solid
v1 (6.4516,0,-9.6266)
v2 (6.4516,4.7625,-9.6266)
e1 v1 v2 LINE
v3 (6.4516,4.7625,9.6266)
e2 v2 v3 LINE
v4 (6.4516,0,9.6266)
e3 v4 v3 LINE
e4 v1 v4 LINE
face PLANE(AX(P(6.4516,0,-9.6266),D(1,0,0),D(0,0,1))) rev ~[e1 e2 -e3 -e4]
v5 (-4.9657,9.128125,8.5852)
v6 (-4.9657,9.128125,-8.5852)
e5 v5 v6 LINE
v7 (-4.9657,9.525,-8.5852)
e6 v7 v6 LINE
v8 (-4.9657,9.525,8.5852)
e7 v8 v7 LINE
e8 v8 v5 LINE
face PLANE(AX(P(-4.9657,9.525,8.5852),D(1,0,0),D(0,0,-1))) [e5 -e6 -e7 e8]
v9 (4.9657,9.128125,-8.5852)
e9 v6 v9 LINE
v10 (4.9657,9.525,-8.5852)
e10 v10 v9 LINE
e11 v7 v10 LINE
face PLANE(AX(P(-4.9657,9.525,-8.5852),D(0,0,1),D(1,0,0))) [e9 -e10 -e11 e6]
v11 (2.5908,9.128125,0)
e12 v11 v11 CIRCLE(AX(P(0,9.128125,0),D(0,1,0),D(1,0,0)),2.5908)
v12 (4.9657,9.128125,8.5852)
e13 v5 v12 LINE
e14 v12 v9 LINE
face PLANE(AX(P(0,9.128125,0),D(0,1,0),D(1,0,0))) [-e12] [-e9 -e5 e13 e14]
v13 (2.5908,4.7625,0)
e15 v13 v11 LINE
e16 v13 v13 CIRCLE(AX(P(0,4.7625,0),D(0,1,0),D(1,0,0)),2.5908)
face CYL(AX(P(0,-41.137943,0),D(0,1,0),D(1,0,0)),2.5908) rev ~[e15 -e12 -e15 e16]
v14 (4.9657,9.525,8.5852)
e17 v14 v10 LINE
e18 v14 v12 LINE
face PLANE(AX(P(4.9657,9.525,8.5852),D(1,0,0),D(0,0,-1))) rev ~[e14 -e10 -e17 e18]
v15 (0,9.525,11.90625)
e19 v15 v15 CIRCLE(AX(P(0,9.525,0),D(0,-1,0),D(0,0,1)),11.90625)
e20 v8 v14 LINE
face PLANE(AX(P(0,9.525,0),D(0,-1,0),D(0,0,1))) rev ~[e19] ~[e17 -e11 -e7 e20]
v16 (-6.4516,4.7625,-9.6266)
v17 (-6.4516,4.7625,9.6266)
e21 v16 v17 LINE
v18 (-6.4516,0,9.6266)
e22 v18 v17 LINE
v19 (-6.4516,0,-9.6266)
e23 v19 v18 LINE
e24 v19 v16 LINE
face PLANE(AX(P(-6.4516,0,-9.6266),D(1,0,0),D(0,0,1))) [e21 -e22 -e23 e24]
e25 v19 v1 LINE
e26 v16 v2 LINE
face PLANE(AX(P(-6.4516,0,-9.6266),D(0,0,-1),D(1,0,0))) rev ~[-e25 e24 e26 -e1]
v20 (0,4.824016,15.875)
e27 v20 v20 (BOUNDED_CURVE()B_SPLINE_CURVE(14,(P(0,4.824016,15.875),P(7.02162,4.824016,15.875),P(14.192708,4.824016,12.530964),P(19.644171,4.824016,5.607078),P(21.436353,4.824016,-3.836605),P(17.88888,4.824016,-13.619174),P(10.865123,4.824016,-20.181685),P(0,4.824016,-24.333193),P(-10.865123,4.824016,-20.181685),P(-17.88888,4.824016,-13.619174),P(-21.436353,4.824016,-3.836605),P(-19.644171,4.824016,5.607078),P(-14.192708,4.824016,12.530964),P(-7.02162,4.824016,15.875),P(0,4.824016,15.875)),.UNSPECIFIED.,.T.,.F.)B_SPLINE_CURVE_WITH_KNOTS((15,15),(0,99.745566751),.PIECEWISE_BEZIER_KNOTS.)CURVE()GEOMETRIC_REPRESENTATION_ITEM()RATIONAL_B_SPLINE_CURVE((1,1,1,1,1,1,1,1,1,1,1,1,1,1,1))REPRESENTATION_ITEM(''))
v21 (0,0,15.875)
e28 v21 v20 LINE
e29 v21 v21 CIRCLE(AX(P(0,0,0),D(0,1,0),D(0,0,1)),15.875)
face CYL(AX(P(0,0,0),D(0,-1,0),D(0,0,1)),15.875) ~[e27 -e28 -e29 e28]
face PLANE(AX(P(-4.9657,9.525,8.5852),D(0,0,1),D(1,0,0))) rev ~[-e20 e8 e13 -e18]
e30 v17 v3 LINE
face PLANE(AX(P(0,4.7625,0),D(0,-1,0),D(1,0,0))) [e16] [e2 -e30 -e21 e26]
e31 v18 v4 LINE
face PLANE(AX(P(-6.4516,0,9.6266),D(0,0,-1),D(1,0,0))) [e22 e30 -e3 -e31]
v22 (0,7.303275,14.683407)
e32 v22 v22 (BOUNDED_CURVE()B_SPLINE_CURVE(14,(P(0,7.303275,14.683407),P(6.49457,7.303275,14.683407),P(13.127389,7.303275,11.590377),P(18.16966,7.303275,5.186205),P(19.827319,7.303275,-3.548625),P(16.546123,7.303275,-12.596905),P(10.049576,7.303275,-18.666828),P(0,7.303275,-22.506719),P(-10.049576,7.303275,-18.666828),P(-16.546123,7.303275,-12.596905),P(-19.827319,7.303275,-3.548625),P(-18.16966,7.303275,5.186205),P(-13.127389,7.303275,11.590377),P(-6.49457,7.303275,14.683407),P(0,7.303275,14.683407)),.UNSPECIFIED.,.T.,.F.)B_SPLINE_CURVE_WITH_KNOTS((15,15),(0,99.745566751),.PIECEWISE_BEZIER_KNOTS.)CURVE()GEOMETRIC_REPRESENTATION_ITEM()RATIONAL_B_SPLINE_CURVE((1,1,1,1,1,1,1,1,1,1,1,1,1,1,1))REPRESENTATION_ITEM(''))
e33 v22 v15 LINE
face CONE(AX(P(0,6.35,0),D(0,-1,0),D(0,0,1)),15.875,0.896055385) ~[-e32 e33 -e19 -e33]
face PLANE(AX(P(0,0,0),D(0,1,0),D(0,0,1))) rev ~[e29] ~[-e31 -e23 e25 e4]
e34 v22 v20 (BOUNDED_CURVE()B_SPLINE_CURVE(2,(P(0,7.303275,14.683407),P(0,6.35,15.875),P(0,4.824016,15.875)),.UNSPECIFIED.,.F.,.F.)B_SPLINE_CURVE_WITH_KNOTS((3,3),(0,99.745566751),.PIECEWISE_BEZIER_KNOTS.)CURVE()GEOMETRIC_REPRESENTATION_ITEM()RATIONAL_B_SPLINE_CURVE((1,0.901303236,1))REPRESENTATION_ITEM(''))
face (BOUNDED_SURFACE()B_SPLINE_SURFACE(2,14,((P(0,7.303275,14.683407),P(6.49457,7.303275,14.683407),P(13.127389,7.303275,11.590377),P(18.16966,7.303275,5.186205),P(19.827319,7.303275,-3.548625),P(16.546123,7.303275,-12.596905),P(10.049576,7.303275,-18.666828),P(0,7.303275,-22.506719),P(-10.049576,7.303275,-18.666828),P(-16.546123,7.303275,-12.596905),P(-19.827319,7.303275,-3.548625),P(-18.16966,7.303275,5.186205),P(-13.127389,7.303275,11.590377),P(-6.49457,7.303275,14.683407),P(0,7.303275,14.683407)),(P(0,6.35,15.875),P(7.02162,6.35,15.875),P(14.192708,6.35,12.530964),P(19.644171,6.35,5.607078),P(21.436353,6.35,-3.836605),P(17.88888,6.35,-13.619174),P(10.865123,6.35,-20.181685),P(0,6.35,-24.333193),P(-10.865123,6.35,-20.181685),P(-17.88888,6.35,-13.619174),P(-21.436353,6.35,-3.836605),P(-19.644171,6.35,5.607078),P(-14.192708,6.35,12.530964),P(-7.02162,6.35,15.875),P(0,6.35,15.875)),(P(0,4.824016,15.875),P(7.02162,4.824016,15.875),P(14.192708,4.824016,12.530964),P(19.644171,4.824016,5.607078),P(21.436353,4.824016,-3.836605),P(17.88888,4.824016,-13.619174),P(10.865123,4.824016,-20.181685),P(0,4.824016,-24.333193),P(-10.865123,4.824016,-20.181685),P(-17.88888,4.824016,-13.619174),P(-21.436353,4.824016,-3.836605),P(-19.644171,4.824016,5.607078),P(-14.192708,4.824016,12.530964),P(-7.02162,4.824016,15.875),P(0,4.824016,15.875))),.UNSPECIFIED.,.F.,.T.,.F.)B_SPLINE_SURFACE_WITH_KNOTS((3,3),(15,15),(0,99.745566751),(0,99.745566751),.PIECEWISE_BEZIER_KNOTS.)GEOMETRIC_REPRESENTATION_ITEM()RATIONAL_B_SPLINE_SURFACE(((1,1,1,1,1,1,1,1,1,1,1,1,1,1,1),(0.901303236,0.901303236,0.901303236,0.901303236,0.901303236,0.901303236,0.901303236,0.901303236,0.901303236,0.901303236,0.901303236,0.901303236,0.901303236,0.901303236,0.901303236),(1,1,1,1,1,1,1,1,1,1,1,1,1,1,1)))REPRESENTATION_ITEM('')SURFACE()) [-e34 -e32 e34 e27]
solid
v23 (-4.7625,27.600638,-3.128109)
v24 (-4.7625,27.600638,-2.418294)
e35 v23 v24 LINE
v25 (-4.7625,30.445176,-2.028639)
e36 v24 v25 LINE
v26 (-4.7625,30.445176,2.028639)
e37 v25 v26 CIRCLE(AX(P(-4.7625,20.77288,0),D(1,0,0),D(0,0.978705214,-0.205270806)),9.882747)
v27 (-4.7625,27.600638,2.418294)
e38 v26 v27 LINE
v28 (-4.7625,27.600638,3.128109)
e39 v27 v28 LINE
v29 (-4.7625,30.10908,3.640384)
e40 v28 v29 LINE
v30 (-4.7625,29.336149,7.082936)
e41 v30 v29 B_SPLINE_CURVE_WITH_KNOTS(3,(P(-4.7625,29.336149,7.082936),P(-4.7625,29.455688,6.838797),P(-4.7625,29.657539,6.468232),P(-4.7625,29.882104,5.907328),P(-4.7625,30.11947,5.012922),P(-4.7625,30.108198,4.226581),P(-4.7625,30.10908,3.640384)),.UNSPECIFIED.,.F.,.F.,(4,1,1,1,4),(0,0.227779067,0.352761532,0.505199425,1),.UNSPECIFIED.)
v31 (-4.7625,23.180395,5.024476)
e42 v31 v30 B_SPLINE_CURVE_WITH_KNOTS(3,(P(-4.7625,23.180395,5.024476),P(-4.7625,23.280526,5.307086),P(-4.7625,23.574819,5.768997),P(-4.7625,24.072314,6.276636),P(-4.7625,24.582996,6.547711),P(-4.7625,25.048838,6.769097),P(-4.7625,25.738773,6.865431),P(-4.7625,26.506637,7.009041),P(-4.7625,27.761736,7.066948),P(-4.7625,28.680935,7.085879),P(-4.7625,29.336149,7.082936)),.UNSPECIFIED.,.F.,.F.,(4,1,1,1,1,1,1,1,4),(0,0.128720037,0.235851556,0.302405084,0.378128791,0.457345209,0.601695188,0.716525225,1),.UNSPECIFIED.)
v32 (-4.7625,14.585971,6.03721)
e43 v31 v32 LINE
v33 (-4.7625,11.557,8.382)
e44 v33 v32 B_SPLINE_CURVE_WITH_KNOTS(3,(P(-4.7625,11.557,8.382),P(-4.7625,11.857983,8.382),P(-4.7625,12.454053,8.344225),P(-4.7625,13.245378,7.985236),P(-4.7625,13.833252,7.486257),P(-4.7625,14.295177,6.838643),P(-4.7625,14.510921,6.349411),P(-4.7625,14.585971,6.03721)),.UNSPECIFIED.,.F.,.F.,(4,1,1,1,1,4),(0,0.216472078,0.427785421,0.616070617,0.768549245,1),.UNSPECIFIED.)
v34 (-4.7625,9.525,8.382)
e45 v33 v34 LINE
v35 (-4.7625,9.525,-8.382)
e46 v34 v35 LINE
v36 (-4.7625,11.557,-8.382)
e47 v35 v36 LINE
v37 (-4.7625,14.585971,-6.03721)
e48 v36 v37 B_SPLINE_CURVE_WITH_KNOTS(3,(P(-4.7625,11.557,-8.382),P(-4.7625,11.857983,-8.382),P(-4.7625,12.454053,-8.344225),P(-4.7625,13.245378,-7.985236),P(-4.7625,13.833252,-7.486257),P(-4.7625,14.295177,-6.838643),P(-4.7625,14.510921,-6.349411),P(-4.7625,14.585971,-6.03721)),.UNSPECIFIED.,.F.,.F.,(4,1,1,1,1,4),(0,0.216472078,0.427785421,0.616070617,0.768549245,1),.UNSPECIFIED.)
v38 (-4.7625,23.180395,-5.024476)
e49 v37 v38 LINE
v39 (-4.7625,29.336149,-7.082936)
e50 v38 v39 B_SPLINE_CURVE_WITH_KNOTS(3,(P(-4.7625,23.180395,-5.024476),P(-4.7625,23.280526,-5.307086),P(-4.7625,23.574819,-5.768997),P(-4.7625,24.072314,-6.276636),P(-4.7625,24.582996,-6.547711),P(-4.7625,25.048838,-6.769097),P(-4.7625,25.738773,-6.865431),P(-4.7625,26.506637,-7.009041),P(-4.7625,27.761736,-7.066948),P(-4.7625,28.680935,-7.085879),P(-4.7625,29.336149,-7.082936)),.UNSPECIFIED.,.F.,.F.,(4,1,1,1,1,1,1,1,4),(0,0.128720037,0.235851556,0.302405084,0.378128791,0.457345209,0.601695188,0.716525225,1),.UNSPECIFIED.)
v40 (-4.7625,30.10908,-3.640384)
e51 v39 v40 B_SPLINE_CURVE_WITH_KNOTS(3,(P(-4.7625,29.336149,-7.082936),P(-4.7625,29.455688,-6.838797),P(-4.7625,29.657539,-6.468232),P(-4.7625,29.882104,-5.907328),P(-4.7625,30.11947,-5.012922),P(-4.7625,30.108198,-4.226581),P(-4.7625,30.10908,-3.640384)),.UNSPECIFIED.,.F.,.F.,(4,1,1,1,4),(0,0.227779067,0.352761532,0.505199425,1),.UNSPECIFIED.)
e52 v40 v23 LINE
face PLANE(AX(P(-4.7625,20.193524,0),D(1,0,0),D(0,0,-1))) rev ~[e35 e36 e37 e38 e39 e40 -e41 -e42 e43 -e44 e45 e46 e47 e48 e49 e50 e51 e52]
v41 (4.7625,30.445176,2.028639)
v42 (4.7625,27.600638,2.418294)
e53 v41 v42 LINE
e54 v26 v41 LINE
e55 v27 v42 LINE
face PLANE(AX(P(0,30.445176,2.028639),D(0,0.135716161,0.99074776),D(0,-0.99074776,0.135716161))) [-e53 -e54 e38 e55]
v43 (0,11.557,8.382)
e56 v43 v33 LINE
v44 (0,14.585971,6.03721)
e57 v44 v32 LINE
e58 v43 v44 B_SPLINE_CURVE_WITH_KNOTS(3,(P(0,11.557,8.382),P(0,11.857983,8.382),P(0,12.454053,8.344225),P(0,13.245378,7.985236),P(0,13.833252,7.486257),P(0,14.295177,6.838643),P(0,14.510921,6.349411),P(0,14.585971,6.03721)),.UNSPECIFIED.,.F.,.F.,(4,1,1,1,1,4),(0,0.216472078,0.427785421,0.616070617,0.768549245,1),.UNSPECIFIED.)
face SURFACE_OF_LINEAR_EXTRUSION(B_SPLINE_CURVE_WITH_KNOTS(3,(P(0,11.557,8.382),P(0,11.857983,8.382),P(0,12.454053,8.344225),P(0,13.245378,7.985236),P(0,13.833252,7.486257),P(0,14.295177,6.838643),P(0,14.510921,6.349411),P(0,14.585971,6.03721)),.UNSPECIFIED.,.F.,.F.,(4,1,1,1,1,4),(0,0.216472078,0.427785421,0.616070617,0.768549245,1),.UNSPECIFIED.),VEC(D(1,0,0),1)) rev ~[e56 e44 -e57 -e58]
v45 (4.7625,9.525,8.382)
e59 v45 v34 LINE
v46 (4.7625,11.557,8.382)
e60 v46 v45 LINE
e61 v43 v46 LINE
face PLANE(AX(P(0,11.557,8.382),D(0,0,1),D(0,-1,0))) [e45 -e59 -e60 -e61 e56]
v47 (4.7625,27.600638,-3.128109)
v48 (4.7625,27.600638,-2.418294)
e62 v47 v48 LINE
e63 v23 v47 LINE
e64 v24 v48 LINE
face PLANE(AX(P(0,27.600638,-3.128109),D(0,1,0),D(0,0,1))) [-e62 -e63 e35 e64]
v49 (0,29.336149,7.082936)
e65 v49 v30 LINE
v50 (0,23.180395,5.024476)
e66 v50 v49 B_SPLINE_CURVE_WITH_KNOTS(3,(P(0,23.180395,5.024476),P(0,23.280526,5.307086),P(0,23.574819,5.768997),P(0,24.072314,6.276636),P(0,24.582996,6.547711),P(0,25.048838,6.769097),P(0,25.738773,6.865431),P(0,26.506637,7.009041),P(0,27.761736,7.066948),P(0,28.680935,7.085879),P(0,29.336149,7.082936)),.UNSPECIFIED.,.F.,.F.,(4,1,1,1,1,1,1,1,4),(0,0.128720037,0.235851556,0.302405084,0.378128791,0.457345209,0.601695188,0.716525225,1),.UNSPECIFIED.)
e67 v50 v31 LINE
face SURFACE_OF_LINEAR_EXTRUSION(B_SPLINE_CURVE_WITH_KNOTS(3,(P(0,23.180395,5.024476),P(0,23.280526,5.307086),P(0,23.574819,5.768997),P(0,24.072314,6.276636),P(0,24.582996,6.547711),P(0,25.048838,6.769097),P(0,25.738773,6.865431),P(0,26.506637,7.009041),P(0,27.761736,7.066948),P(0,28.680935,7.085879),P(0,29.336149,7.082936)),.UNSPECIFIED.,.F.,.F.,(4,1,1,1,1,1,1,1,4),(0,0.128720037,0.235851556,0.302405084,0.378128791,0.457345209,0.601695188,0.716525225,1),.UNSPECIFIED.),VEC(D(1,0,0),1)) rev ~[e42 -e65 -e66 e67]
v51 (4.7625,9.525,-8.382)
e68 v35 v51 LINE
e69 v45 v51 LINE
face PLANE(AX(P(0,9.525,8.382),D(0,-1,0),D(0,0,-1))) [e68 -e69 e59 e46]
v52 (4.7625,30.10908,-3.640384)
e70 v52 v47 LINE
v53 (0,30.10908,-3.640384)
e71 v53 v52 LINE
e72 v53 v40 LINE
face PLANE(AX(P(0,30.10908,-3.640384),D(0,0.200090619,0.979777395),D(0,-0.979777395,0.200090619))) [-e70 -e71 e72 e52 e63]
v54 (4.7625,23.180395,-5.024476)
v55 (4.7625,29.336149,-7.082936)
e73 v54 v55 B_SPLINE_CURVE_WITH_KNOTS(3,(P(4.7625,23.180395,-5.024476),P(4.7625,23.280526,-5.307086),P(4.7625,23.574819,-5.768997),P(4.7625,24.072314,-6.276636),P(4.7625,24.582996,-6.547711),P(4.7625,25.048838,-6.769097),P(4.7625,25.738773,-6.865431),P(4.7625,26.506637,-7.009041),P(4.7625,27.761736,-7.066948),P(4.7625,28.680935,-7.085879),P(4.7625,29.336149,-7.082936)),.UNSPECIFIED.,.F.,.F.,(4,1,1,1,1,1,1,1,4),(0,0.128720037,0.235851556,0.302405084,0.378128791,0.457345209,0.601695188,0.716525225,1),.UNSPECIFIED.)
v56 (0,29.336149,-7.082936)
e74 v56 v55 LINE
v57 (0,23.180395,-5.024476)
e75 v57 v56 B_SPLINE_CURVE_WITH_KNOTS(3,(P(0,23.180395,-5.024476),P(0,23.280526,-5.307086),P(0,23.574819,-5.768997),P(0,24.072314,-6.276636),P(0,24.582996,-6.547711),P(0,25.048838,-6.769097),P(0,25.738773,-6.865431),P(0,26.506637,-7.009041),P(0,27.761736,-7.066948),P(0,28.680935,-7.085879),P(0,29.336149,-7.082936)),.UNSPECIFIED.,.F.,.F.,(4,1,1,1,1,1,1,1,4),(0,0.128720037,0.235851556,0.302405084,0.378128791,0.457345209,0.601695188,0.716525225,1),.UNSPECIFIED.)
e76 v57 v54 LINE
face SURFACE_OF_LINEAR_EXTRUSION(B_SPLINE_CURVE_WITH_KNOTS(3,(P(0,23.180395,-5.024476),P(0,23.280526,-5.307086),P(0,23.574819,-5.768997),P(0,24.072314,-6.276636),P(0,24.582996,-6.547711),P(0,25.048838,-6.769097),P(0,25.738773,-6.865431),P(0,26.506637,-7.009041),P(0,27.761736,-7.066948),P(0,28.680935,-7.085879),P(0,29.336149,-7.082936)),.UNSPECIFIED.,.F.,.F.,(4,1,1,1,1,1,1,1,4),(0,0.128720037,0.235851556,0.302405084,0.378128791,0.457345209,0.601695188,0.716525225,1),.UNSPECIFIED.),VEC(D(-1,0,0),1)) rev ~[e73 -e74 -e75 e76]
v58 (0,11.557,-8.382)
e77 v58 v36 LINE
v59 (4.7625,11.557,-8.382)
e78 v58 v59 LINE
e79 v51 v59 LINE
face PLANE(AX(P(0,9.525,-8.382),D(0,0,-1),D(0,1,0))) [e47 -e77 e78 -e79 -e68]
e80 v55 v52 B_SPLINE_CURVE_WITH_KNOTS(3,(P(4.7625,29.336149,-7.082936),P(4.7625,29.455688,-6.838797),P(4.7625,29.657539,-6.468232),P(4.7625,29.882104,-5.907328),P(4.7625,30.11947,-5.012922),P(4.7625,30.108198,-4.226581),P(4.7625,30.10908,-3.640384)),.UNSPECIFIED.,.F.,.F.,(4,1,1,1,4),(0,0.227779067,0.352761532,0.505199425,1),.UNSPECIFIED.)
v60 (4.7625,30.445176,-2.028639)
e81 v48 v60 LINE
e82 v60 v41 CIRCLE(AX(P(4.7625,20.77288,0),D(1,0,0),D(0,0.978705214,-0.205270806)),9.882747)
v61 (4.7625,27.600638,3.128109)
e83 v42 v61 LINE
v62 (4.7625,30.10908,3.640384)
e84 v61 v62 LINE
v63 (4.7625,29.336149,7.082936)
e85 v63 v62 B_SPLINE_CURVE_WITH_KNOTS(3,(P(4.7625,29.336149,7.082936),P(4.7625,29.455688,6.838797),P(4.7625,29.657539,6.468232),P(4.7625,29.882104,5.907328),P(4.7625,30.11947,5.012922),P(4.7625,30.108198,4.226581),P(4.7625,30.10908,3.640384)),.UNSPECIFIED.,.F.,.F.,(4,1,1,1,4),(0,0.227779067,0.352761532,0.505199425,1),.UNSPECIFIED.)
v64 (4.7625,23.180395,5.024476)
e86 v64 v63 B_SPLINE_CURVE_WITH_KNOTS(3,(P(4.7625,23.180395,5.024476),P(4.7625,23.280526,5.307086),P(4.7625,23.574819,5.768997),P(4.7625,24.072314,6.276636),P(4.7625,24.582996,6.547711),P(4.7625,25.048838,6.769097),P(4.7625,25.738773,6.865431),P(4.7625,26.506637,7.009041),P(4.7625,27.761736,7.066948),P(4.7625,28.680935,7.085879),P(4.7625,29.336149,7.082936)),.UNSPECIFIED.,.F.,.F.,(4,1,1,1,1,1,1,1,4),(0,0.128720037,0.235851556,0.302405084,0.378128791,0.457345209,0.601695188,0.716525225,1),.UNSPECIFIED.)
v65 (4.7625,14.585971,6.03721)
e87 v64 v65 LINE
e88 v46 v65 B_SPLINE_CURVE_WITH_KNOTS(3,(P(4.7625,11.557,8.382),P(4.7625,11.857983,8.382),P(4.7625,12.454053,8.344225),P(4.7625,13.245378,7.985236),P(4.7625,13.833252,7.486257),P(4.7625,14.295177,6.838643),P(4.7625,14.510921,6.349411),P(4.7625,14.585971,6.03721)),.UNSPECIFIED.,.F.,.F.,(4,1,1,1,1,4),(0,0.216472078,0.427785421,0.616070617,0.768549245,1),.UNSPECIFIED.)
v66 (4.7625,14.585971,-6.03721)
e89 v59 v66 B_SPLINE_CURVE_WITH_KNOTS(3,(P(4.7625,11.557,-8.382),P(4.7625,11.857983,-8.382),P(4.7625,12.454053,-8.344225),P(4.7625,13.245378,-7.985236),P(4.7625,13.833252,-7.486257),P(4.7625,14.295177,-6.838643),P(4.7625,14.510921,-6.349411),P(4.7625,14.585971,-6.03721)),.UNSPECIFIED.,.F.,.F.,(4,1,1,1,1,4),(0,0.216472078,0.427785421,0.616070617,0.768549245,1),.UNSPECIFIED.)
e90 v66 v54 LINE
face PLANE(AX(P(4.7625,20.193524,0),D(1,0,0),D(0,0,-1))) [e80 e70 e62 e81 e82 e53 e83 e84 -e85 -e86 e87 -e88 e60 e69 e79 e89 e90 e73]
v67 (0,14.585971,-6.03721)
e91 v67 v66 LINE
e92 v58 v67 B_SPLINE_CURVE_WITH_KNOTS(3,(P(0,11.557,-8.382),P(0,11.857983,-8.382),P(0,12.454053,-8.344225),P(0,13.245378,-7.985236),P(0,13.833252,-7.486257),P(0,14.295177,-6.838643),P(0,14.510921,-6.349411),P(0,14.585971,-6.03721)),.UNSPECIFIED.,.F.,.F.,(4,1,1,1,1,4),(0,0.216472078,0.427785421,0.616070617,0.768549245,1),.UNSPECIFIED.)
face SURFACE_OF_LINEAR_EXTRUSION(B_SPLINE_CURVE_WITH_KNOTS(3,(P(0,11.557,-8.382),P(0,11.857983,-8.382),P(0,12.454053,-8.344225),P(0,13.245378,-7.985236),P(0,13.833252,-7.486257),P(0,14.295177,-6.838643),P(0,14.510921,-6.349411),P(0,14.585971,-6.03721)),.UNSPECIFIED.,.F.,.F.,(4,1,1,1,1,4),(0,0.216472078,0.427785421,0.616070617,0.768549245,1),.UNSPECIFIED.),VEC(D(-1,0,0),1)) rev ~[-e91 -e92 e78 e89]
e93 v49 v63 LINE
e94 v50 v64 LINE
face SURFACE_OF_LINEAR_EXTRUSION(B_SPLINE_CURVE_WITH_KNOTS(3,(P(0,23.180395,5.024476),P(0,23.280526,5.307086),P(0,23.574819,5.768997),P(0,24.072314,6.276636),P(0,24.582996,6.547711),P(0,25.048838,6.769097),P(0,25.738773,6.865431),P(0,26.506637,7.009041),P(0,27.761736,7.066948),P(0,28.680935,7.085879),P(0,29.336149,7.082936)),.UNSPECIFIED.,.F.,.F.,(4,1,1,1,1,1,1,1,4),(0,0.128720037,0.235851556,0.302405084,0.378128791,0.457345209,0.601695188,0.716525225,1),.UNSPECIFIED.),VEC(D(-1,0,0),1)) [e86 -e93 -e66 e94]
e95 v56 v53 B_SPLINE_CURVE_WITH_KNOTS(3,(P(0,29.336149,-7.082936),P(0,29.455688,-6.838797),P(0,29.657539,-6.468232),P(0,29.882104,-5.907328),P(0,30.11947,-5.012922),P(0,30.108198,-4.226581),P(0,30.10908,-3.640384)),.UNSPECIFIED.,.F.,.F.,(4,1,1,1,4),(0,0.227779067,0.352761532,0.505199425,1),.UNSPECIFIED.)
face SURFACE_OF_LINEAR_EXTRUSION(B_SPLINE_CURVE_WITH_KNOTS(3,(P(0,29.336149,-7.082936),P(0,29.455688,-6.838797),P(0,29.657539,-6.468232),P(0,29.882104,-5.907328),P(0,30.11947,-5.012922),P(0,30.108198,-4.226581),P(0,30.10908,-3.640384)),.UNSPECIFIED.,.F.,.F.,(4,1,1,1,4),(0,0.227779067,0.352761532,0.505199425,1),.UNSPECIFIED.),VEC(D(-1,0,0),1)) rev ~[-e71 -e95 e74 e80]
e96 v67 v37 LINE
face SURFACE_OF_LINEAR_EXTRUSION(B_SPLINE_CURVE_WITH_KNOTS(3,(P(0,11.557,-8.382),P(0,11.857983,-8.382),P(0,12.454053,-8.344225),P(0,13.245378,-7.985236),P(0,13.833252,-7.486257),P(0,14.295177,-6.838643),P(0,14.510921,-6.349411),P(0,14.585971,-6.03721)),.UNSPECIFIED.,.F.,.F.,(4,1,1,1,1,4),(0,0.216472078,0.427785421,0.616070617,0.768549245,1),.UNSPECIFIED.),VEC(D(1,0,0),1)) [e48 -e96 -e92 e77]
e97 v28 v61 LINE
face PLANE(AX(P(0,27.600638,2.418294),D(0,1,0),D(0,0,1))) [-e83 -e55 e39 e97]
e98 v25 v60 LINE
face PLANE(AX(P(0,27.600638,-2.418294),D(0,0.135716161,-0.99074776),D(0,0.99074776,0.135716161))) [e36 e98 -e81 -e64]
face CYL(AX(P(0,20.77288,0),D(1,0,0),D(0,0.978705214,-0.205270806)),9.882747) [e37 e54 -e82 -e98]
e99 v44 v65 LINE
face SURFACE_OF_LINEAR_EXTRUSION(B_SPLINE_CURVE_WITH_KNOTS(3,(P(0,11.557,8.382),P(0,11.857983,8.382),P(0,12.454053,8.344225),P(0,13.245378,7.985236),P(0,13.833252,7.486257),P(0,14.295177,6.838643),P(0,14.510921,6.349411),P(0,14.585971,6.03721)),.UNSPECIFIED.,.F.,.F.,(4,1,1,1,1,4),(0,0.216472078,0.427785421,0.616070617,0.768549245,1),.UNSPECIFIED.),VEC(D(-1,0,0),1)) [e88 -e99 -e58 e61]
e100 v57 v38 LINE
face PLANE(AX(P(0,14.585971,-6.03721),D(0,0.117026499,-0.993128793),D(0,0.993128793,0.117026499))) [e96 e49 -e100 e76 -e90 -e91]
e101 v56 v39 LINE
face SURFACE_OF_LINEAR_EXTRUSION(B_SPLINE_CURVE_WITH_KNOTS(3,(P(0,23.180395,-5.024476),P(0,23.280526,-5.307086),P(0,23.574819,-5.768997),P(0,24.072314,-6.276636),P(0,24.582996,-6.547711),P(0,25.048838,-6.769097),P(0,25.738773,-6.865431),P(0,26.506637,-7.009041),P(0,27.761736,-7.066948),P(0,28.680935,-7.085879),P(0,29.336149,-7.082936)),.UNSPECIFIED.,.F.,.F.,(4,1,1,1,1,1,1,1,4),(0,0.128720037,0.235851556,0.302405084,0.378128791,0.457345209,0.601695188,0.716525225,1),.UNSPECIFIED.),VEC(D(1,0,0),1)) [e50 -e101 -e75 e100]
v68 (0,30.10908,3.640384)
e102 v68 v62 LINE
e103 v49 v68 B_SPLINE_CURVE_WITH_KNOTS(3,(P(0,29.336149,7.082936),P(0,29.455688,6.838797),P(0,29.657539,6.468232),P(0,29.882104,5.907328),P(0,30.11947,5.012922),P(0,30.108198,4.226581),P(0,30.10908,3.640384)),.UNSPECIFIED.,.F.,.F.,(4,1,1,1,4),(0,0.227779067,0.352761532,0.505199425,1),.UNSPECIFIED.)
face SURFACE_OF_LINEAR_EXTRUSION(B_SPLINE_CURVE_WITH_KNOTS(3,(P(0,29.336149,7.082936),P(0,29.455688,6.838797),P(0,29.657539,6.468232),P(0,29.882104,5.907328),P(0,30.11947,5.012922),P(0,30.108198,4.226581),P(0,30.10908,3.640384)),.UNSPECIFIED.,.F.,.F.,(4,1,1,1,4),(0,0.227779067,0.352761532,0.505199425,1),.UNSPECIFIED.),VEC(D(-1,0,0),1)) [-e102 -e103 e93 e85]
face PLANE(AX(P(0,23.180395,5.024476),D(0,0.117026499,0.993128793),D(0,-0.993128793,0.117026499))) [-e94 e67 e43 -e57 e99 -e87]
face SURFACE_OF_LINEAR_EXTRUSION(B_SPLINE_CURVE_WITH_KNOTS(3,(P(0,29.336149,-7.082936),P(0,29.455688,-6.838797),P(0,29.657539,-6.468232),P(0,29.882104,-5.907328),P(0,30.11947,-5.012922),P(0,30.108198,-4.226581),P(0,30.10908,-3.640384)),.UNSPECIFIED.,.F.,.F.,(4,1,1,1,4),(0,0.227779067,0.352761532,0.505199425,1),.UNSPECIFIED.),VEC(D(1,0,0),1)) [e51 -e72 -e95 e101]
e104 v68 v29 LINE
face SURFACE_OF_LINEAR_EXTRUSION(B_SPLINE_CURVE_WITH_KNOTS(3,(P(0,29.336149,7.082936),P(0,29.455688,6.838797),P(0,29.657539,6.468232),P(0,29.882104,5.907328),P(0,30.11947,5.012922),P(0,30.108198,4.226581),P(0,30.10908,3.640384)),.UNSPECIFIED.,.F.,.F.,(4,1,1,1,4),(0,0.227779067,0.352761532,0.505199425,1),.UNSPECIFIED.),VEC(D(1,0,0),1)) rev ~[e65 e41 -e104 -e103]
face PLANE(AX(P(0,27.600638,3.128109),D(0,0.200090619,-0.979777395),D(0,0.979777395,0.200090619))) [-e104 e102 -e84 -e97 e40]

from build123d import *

# Parameters (mm, degrees)
SKETCH1_R                  = 15.875
BOSS_EXTRUDE1_DEPTH        = 6.35
FILLET1_R                  = 3.175
SKETCH3_W                  = 12.9032
SKETCH3_H                  = 19.2532
CUT_EXTRUDE1_DEPTH         = 4.7625
F_6_0_204_DIAMETER_HOLE1_D = 5.1816
BOSS_EXTRUDE2_DEPTH        = 4.7625
SKETCH7_W                  = 9.9314
SKETCH7_H                  = 17.1704
CUT_EXTRUDE2_DEPTH         = 0.396875


with BuildPart() as part:
    # Sketch1 → Boss-Extrude1 (new body)
    with BuildSketch(Plane(origin=(0, 0, 0), x_dir=(1, 0, 0), z_dir=(0, 1, 0))):
        with Locations(Location((0, 0, 0), (0, 0, 270))):
            Circle(SKETCH1_R)
    extrude(amount=BOSS_EXTRUDE1_DEPTH)

    # Sketch2 → Revolve1 (revolve)
    with BuildSketch(Plane.XY, mode=Mode.PRIVATE) as revolve1_sk:
        Polygon((-15.875, 6.35), (-11.90625, 9.525), (0, 9.525), (0, 6.35), align=None)
    revolve(revolve1_sk.sketch.rotate(Axis((0, 9.525, 0), (0, -1, 0)), 270), axis=Axis((0, 9.525, 0), (0, -1, 0)))

    # Fillet1
    fillet1_edges = [part.edges().sort_by_distance(p)[0] for p in [
        (0, 6.35, -15.875),
    ]]
    fillet(fillet1_edges, radius=FILLET1_R)

    # Sketch3 → Cut-Extrude1 (cut)
    with BuildSketch(Plane.XZ):
        Rectangle(SKETCH3_W, SKETCH3_H)
    extrude(amount=-CUT_EXTRUDE1_DEPTH, mode=Mode.SUBTRACT)

    # #6 (0.204) Diameter Hole1 (through all)
    with Locations(Plane(origin=(0, 4.7625, 0), x_dir=(-1, 0, 0), z_dir=(0, -1, 0))):
        with Locations((0, 0)):
            Hole(F_6_0_204_DIAMETER_HOLE1_D / 2)

    # Sketch7 → Cut-Extrude2 (cut)
    with BuildSketch(Plane(origin=(0, 9.525, 0), x_dir=(1, 0, 0), z_dir=(0, 1, 0))):
        Rectangle(SKETCH7_W, SKETCH7_H)
    extrude(amount=-CUT_EXTRUDE2_DEPTH, mode=Mode.SUBTRACT)


with BuildPart() as body_2:
    # Sketch6 → Boss-Extrude2 (new, symmetric)
    with BuildSketch(Plane(origin=(0, 0, 0), x_dir=(0, 0, -1), z_dir=(1, 0, 0))):
        with BuildLine():
            Line((-8.382, 9.525), (8.382, 9.525))
            Line((8.382, 9.525), (8.382, 11.557))
            add(Edge.make_bspline(
                [(8.382, 11.557), (8.382, 11.857982863), (8.344224983, 12.454053236), (7.98523621, 13.245378051), (7.486257094, 13.833251875), (6.838643181, 14.295177257), (6.349411081, 14.510920687), (6.037210454, 14.585970807)],
                knots=[0, 0, 0, 0, 0.216472078, 0.427785421, 0.616070617, 0.768549245, 1, 1, 1, 1], degree=3))
            Line((6.037210454, 14.585970807), (5.024476334, 23.180395331))
            add(Edge.make_bspline(
                [(5.024476334, 23.180395331), (5.307085674, 23.280525666), (5.76899713, 23.574819115), (6.276635868, 24.072313749), (6.547711401, 24.582995668), (6.769096893, 25.048838443), (6.865431256, 25.738772721), (7.009040885, 26.506637133), (7.066947947, 27.761736206), (7.085878737, 28.680934811), (7.082935602, 29.336149278)],
                knots=[0, 0, 0, 0, 0.128720037, 0.235851556, 0.302405084, 0.378128791, 0.457345209, 0.601695188, 0.716525225, 1, 1, 1, 1], degree=3))
            add(Edge.make_bspline(
                [(7.082935602, 29.336149278), (6.838796737, 29.455688295), (6.468231657, 29.657538579), (5.90732823, 29.882104351), (5.012922295, 30.119470051), (4.226581458, 30.108198276), (3.640384417, 30.109079786)],
                knots=[0, 0, 0, 0, 0.227779067, 0.352761532, 0.505199425, 1, 1, 1, 1], degree=3))
            Line((3.640384417, 30.109079786), (3.128109303, 27.600638464))
            Line((3.128109303, 27.600638464), (2.41829426, 27.600638464))
            Line((2.41829426, 27.600638464), (2.028639394, 30.44517579))
            ThreePointArc((2.028639394, 30.44517579), (0, 30.655626766), (-2.028639394, 30.44517579))
            Line((-2.028639394, 30.44517579), (-2.41829426, 27.600638464))
            Line((-2.41829426, 27.600638464), (-3.128109303, 27.600638464))
            Line((-3.128109303, 27.600638464), (-3.640384417, 30.109079786))
            add(Edge.make_bspline(
                [(-7.082935602, 29.336149278), (-6.838796737, 29.455688295), (-6.468231657, 29.657538579), (-5.90732823, 29.882104351), (-5.012922295, 30.119470051), (-4.226581458, 30.108198276), (-3.640384417, 30.109079786)],
                knots=[0, 0, 0, 0, 0.227779067, 0.352761532, 0.505199425, 1, 1, 1, 1], degree=3))
            add(Edge.make_bspline(
                [(-5.024476334, 23.180395331), (-5.307085674, 23.280525666), (-5.76899713, 23.574819115), (-6.276635868, 24.072313749), (-6.547711401, 24.582995668), (-6.769096893, 25.048838443), (-6.865431256, 25.738772721), (-7.009040885, 26.506637133), (-7.066947947, 27.761736206), (-7.085878737, 28.680934811), (-7.082935602, 29.336149278)],
                knots=[0, 0, 0, 0, 0.128720037, 0.235851556, 0.302405084, 0.378128791, 0.457345209, 0.601695188, 0.716525225, 1, 1, 1, 1], degree=3))
            Line((-5.024476334, 23.180395331), (-6.037210454, 14.585970807))
            add(Edge.make_bspline(
                [(-8.382, 11.557), (-8.382, 11.857982863), (-8.344224983, 12.454053236), (-7.98523621, 13.245378051), (-7.486257094, 13.833251875), (-6.838643181, 14.295177257), (-6.349411081, 14.510920687), (-6.037210454, 14.585970807)],
                knots=[0, 0, 0, 0, 0.216472078, 0.427785421, 0.616070617, 0.768549245, 1, 1, 1, 1], degree=3))
            Line((-8.382, 11.557), (-8.382, 9.525))
        make_face()
    extrude(amount=BOSS_EXTRUDE2_DEPTH, both=True)


solid = Compound([part.part, body_2.part])
